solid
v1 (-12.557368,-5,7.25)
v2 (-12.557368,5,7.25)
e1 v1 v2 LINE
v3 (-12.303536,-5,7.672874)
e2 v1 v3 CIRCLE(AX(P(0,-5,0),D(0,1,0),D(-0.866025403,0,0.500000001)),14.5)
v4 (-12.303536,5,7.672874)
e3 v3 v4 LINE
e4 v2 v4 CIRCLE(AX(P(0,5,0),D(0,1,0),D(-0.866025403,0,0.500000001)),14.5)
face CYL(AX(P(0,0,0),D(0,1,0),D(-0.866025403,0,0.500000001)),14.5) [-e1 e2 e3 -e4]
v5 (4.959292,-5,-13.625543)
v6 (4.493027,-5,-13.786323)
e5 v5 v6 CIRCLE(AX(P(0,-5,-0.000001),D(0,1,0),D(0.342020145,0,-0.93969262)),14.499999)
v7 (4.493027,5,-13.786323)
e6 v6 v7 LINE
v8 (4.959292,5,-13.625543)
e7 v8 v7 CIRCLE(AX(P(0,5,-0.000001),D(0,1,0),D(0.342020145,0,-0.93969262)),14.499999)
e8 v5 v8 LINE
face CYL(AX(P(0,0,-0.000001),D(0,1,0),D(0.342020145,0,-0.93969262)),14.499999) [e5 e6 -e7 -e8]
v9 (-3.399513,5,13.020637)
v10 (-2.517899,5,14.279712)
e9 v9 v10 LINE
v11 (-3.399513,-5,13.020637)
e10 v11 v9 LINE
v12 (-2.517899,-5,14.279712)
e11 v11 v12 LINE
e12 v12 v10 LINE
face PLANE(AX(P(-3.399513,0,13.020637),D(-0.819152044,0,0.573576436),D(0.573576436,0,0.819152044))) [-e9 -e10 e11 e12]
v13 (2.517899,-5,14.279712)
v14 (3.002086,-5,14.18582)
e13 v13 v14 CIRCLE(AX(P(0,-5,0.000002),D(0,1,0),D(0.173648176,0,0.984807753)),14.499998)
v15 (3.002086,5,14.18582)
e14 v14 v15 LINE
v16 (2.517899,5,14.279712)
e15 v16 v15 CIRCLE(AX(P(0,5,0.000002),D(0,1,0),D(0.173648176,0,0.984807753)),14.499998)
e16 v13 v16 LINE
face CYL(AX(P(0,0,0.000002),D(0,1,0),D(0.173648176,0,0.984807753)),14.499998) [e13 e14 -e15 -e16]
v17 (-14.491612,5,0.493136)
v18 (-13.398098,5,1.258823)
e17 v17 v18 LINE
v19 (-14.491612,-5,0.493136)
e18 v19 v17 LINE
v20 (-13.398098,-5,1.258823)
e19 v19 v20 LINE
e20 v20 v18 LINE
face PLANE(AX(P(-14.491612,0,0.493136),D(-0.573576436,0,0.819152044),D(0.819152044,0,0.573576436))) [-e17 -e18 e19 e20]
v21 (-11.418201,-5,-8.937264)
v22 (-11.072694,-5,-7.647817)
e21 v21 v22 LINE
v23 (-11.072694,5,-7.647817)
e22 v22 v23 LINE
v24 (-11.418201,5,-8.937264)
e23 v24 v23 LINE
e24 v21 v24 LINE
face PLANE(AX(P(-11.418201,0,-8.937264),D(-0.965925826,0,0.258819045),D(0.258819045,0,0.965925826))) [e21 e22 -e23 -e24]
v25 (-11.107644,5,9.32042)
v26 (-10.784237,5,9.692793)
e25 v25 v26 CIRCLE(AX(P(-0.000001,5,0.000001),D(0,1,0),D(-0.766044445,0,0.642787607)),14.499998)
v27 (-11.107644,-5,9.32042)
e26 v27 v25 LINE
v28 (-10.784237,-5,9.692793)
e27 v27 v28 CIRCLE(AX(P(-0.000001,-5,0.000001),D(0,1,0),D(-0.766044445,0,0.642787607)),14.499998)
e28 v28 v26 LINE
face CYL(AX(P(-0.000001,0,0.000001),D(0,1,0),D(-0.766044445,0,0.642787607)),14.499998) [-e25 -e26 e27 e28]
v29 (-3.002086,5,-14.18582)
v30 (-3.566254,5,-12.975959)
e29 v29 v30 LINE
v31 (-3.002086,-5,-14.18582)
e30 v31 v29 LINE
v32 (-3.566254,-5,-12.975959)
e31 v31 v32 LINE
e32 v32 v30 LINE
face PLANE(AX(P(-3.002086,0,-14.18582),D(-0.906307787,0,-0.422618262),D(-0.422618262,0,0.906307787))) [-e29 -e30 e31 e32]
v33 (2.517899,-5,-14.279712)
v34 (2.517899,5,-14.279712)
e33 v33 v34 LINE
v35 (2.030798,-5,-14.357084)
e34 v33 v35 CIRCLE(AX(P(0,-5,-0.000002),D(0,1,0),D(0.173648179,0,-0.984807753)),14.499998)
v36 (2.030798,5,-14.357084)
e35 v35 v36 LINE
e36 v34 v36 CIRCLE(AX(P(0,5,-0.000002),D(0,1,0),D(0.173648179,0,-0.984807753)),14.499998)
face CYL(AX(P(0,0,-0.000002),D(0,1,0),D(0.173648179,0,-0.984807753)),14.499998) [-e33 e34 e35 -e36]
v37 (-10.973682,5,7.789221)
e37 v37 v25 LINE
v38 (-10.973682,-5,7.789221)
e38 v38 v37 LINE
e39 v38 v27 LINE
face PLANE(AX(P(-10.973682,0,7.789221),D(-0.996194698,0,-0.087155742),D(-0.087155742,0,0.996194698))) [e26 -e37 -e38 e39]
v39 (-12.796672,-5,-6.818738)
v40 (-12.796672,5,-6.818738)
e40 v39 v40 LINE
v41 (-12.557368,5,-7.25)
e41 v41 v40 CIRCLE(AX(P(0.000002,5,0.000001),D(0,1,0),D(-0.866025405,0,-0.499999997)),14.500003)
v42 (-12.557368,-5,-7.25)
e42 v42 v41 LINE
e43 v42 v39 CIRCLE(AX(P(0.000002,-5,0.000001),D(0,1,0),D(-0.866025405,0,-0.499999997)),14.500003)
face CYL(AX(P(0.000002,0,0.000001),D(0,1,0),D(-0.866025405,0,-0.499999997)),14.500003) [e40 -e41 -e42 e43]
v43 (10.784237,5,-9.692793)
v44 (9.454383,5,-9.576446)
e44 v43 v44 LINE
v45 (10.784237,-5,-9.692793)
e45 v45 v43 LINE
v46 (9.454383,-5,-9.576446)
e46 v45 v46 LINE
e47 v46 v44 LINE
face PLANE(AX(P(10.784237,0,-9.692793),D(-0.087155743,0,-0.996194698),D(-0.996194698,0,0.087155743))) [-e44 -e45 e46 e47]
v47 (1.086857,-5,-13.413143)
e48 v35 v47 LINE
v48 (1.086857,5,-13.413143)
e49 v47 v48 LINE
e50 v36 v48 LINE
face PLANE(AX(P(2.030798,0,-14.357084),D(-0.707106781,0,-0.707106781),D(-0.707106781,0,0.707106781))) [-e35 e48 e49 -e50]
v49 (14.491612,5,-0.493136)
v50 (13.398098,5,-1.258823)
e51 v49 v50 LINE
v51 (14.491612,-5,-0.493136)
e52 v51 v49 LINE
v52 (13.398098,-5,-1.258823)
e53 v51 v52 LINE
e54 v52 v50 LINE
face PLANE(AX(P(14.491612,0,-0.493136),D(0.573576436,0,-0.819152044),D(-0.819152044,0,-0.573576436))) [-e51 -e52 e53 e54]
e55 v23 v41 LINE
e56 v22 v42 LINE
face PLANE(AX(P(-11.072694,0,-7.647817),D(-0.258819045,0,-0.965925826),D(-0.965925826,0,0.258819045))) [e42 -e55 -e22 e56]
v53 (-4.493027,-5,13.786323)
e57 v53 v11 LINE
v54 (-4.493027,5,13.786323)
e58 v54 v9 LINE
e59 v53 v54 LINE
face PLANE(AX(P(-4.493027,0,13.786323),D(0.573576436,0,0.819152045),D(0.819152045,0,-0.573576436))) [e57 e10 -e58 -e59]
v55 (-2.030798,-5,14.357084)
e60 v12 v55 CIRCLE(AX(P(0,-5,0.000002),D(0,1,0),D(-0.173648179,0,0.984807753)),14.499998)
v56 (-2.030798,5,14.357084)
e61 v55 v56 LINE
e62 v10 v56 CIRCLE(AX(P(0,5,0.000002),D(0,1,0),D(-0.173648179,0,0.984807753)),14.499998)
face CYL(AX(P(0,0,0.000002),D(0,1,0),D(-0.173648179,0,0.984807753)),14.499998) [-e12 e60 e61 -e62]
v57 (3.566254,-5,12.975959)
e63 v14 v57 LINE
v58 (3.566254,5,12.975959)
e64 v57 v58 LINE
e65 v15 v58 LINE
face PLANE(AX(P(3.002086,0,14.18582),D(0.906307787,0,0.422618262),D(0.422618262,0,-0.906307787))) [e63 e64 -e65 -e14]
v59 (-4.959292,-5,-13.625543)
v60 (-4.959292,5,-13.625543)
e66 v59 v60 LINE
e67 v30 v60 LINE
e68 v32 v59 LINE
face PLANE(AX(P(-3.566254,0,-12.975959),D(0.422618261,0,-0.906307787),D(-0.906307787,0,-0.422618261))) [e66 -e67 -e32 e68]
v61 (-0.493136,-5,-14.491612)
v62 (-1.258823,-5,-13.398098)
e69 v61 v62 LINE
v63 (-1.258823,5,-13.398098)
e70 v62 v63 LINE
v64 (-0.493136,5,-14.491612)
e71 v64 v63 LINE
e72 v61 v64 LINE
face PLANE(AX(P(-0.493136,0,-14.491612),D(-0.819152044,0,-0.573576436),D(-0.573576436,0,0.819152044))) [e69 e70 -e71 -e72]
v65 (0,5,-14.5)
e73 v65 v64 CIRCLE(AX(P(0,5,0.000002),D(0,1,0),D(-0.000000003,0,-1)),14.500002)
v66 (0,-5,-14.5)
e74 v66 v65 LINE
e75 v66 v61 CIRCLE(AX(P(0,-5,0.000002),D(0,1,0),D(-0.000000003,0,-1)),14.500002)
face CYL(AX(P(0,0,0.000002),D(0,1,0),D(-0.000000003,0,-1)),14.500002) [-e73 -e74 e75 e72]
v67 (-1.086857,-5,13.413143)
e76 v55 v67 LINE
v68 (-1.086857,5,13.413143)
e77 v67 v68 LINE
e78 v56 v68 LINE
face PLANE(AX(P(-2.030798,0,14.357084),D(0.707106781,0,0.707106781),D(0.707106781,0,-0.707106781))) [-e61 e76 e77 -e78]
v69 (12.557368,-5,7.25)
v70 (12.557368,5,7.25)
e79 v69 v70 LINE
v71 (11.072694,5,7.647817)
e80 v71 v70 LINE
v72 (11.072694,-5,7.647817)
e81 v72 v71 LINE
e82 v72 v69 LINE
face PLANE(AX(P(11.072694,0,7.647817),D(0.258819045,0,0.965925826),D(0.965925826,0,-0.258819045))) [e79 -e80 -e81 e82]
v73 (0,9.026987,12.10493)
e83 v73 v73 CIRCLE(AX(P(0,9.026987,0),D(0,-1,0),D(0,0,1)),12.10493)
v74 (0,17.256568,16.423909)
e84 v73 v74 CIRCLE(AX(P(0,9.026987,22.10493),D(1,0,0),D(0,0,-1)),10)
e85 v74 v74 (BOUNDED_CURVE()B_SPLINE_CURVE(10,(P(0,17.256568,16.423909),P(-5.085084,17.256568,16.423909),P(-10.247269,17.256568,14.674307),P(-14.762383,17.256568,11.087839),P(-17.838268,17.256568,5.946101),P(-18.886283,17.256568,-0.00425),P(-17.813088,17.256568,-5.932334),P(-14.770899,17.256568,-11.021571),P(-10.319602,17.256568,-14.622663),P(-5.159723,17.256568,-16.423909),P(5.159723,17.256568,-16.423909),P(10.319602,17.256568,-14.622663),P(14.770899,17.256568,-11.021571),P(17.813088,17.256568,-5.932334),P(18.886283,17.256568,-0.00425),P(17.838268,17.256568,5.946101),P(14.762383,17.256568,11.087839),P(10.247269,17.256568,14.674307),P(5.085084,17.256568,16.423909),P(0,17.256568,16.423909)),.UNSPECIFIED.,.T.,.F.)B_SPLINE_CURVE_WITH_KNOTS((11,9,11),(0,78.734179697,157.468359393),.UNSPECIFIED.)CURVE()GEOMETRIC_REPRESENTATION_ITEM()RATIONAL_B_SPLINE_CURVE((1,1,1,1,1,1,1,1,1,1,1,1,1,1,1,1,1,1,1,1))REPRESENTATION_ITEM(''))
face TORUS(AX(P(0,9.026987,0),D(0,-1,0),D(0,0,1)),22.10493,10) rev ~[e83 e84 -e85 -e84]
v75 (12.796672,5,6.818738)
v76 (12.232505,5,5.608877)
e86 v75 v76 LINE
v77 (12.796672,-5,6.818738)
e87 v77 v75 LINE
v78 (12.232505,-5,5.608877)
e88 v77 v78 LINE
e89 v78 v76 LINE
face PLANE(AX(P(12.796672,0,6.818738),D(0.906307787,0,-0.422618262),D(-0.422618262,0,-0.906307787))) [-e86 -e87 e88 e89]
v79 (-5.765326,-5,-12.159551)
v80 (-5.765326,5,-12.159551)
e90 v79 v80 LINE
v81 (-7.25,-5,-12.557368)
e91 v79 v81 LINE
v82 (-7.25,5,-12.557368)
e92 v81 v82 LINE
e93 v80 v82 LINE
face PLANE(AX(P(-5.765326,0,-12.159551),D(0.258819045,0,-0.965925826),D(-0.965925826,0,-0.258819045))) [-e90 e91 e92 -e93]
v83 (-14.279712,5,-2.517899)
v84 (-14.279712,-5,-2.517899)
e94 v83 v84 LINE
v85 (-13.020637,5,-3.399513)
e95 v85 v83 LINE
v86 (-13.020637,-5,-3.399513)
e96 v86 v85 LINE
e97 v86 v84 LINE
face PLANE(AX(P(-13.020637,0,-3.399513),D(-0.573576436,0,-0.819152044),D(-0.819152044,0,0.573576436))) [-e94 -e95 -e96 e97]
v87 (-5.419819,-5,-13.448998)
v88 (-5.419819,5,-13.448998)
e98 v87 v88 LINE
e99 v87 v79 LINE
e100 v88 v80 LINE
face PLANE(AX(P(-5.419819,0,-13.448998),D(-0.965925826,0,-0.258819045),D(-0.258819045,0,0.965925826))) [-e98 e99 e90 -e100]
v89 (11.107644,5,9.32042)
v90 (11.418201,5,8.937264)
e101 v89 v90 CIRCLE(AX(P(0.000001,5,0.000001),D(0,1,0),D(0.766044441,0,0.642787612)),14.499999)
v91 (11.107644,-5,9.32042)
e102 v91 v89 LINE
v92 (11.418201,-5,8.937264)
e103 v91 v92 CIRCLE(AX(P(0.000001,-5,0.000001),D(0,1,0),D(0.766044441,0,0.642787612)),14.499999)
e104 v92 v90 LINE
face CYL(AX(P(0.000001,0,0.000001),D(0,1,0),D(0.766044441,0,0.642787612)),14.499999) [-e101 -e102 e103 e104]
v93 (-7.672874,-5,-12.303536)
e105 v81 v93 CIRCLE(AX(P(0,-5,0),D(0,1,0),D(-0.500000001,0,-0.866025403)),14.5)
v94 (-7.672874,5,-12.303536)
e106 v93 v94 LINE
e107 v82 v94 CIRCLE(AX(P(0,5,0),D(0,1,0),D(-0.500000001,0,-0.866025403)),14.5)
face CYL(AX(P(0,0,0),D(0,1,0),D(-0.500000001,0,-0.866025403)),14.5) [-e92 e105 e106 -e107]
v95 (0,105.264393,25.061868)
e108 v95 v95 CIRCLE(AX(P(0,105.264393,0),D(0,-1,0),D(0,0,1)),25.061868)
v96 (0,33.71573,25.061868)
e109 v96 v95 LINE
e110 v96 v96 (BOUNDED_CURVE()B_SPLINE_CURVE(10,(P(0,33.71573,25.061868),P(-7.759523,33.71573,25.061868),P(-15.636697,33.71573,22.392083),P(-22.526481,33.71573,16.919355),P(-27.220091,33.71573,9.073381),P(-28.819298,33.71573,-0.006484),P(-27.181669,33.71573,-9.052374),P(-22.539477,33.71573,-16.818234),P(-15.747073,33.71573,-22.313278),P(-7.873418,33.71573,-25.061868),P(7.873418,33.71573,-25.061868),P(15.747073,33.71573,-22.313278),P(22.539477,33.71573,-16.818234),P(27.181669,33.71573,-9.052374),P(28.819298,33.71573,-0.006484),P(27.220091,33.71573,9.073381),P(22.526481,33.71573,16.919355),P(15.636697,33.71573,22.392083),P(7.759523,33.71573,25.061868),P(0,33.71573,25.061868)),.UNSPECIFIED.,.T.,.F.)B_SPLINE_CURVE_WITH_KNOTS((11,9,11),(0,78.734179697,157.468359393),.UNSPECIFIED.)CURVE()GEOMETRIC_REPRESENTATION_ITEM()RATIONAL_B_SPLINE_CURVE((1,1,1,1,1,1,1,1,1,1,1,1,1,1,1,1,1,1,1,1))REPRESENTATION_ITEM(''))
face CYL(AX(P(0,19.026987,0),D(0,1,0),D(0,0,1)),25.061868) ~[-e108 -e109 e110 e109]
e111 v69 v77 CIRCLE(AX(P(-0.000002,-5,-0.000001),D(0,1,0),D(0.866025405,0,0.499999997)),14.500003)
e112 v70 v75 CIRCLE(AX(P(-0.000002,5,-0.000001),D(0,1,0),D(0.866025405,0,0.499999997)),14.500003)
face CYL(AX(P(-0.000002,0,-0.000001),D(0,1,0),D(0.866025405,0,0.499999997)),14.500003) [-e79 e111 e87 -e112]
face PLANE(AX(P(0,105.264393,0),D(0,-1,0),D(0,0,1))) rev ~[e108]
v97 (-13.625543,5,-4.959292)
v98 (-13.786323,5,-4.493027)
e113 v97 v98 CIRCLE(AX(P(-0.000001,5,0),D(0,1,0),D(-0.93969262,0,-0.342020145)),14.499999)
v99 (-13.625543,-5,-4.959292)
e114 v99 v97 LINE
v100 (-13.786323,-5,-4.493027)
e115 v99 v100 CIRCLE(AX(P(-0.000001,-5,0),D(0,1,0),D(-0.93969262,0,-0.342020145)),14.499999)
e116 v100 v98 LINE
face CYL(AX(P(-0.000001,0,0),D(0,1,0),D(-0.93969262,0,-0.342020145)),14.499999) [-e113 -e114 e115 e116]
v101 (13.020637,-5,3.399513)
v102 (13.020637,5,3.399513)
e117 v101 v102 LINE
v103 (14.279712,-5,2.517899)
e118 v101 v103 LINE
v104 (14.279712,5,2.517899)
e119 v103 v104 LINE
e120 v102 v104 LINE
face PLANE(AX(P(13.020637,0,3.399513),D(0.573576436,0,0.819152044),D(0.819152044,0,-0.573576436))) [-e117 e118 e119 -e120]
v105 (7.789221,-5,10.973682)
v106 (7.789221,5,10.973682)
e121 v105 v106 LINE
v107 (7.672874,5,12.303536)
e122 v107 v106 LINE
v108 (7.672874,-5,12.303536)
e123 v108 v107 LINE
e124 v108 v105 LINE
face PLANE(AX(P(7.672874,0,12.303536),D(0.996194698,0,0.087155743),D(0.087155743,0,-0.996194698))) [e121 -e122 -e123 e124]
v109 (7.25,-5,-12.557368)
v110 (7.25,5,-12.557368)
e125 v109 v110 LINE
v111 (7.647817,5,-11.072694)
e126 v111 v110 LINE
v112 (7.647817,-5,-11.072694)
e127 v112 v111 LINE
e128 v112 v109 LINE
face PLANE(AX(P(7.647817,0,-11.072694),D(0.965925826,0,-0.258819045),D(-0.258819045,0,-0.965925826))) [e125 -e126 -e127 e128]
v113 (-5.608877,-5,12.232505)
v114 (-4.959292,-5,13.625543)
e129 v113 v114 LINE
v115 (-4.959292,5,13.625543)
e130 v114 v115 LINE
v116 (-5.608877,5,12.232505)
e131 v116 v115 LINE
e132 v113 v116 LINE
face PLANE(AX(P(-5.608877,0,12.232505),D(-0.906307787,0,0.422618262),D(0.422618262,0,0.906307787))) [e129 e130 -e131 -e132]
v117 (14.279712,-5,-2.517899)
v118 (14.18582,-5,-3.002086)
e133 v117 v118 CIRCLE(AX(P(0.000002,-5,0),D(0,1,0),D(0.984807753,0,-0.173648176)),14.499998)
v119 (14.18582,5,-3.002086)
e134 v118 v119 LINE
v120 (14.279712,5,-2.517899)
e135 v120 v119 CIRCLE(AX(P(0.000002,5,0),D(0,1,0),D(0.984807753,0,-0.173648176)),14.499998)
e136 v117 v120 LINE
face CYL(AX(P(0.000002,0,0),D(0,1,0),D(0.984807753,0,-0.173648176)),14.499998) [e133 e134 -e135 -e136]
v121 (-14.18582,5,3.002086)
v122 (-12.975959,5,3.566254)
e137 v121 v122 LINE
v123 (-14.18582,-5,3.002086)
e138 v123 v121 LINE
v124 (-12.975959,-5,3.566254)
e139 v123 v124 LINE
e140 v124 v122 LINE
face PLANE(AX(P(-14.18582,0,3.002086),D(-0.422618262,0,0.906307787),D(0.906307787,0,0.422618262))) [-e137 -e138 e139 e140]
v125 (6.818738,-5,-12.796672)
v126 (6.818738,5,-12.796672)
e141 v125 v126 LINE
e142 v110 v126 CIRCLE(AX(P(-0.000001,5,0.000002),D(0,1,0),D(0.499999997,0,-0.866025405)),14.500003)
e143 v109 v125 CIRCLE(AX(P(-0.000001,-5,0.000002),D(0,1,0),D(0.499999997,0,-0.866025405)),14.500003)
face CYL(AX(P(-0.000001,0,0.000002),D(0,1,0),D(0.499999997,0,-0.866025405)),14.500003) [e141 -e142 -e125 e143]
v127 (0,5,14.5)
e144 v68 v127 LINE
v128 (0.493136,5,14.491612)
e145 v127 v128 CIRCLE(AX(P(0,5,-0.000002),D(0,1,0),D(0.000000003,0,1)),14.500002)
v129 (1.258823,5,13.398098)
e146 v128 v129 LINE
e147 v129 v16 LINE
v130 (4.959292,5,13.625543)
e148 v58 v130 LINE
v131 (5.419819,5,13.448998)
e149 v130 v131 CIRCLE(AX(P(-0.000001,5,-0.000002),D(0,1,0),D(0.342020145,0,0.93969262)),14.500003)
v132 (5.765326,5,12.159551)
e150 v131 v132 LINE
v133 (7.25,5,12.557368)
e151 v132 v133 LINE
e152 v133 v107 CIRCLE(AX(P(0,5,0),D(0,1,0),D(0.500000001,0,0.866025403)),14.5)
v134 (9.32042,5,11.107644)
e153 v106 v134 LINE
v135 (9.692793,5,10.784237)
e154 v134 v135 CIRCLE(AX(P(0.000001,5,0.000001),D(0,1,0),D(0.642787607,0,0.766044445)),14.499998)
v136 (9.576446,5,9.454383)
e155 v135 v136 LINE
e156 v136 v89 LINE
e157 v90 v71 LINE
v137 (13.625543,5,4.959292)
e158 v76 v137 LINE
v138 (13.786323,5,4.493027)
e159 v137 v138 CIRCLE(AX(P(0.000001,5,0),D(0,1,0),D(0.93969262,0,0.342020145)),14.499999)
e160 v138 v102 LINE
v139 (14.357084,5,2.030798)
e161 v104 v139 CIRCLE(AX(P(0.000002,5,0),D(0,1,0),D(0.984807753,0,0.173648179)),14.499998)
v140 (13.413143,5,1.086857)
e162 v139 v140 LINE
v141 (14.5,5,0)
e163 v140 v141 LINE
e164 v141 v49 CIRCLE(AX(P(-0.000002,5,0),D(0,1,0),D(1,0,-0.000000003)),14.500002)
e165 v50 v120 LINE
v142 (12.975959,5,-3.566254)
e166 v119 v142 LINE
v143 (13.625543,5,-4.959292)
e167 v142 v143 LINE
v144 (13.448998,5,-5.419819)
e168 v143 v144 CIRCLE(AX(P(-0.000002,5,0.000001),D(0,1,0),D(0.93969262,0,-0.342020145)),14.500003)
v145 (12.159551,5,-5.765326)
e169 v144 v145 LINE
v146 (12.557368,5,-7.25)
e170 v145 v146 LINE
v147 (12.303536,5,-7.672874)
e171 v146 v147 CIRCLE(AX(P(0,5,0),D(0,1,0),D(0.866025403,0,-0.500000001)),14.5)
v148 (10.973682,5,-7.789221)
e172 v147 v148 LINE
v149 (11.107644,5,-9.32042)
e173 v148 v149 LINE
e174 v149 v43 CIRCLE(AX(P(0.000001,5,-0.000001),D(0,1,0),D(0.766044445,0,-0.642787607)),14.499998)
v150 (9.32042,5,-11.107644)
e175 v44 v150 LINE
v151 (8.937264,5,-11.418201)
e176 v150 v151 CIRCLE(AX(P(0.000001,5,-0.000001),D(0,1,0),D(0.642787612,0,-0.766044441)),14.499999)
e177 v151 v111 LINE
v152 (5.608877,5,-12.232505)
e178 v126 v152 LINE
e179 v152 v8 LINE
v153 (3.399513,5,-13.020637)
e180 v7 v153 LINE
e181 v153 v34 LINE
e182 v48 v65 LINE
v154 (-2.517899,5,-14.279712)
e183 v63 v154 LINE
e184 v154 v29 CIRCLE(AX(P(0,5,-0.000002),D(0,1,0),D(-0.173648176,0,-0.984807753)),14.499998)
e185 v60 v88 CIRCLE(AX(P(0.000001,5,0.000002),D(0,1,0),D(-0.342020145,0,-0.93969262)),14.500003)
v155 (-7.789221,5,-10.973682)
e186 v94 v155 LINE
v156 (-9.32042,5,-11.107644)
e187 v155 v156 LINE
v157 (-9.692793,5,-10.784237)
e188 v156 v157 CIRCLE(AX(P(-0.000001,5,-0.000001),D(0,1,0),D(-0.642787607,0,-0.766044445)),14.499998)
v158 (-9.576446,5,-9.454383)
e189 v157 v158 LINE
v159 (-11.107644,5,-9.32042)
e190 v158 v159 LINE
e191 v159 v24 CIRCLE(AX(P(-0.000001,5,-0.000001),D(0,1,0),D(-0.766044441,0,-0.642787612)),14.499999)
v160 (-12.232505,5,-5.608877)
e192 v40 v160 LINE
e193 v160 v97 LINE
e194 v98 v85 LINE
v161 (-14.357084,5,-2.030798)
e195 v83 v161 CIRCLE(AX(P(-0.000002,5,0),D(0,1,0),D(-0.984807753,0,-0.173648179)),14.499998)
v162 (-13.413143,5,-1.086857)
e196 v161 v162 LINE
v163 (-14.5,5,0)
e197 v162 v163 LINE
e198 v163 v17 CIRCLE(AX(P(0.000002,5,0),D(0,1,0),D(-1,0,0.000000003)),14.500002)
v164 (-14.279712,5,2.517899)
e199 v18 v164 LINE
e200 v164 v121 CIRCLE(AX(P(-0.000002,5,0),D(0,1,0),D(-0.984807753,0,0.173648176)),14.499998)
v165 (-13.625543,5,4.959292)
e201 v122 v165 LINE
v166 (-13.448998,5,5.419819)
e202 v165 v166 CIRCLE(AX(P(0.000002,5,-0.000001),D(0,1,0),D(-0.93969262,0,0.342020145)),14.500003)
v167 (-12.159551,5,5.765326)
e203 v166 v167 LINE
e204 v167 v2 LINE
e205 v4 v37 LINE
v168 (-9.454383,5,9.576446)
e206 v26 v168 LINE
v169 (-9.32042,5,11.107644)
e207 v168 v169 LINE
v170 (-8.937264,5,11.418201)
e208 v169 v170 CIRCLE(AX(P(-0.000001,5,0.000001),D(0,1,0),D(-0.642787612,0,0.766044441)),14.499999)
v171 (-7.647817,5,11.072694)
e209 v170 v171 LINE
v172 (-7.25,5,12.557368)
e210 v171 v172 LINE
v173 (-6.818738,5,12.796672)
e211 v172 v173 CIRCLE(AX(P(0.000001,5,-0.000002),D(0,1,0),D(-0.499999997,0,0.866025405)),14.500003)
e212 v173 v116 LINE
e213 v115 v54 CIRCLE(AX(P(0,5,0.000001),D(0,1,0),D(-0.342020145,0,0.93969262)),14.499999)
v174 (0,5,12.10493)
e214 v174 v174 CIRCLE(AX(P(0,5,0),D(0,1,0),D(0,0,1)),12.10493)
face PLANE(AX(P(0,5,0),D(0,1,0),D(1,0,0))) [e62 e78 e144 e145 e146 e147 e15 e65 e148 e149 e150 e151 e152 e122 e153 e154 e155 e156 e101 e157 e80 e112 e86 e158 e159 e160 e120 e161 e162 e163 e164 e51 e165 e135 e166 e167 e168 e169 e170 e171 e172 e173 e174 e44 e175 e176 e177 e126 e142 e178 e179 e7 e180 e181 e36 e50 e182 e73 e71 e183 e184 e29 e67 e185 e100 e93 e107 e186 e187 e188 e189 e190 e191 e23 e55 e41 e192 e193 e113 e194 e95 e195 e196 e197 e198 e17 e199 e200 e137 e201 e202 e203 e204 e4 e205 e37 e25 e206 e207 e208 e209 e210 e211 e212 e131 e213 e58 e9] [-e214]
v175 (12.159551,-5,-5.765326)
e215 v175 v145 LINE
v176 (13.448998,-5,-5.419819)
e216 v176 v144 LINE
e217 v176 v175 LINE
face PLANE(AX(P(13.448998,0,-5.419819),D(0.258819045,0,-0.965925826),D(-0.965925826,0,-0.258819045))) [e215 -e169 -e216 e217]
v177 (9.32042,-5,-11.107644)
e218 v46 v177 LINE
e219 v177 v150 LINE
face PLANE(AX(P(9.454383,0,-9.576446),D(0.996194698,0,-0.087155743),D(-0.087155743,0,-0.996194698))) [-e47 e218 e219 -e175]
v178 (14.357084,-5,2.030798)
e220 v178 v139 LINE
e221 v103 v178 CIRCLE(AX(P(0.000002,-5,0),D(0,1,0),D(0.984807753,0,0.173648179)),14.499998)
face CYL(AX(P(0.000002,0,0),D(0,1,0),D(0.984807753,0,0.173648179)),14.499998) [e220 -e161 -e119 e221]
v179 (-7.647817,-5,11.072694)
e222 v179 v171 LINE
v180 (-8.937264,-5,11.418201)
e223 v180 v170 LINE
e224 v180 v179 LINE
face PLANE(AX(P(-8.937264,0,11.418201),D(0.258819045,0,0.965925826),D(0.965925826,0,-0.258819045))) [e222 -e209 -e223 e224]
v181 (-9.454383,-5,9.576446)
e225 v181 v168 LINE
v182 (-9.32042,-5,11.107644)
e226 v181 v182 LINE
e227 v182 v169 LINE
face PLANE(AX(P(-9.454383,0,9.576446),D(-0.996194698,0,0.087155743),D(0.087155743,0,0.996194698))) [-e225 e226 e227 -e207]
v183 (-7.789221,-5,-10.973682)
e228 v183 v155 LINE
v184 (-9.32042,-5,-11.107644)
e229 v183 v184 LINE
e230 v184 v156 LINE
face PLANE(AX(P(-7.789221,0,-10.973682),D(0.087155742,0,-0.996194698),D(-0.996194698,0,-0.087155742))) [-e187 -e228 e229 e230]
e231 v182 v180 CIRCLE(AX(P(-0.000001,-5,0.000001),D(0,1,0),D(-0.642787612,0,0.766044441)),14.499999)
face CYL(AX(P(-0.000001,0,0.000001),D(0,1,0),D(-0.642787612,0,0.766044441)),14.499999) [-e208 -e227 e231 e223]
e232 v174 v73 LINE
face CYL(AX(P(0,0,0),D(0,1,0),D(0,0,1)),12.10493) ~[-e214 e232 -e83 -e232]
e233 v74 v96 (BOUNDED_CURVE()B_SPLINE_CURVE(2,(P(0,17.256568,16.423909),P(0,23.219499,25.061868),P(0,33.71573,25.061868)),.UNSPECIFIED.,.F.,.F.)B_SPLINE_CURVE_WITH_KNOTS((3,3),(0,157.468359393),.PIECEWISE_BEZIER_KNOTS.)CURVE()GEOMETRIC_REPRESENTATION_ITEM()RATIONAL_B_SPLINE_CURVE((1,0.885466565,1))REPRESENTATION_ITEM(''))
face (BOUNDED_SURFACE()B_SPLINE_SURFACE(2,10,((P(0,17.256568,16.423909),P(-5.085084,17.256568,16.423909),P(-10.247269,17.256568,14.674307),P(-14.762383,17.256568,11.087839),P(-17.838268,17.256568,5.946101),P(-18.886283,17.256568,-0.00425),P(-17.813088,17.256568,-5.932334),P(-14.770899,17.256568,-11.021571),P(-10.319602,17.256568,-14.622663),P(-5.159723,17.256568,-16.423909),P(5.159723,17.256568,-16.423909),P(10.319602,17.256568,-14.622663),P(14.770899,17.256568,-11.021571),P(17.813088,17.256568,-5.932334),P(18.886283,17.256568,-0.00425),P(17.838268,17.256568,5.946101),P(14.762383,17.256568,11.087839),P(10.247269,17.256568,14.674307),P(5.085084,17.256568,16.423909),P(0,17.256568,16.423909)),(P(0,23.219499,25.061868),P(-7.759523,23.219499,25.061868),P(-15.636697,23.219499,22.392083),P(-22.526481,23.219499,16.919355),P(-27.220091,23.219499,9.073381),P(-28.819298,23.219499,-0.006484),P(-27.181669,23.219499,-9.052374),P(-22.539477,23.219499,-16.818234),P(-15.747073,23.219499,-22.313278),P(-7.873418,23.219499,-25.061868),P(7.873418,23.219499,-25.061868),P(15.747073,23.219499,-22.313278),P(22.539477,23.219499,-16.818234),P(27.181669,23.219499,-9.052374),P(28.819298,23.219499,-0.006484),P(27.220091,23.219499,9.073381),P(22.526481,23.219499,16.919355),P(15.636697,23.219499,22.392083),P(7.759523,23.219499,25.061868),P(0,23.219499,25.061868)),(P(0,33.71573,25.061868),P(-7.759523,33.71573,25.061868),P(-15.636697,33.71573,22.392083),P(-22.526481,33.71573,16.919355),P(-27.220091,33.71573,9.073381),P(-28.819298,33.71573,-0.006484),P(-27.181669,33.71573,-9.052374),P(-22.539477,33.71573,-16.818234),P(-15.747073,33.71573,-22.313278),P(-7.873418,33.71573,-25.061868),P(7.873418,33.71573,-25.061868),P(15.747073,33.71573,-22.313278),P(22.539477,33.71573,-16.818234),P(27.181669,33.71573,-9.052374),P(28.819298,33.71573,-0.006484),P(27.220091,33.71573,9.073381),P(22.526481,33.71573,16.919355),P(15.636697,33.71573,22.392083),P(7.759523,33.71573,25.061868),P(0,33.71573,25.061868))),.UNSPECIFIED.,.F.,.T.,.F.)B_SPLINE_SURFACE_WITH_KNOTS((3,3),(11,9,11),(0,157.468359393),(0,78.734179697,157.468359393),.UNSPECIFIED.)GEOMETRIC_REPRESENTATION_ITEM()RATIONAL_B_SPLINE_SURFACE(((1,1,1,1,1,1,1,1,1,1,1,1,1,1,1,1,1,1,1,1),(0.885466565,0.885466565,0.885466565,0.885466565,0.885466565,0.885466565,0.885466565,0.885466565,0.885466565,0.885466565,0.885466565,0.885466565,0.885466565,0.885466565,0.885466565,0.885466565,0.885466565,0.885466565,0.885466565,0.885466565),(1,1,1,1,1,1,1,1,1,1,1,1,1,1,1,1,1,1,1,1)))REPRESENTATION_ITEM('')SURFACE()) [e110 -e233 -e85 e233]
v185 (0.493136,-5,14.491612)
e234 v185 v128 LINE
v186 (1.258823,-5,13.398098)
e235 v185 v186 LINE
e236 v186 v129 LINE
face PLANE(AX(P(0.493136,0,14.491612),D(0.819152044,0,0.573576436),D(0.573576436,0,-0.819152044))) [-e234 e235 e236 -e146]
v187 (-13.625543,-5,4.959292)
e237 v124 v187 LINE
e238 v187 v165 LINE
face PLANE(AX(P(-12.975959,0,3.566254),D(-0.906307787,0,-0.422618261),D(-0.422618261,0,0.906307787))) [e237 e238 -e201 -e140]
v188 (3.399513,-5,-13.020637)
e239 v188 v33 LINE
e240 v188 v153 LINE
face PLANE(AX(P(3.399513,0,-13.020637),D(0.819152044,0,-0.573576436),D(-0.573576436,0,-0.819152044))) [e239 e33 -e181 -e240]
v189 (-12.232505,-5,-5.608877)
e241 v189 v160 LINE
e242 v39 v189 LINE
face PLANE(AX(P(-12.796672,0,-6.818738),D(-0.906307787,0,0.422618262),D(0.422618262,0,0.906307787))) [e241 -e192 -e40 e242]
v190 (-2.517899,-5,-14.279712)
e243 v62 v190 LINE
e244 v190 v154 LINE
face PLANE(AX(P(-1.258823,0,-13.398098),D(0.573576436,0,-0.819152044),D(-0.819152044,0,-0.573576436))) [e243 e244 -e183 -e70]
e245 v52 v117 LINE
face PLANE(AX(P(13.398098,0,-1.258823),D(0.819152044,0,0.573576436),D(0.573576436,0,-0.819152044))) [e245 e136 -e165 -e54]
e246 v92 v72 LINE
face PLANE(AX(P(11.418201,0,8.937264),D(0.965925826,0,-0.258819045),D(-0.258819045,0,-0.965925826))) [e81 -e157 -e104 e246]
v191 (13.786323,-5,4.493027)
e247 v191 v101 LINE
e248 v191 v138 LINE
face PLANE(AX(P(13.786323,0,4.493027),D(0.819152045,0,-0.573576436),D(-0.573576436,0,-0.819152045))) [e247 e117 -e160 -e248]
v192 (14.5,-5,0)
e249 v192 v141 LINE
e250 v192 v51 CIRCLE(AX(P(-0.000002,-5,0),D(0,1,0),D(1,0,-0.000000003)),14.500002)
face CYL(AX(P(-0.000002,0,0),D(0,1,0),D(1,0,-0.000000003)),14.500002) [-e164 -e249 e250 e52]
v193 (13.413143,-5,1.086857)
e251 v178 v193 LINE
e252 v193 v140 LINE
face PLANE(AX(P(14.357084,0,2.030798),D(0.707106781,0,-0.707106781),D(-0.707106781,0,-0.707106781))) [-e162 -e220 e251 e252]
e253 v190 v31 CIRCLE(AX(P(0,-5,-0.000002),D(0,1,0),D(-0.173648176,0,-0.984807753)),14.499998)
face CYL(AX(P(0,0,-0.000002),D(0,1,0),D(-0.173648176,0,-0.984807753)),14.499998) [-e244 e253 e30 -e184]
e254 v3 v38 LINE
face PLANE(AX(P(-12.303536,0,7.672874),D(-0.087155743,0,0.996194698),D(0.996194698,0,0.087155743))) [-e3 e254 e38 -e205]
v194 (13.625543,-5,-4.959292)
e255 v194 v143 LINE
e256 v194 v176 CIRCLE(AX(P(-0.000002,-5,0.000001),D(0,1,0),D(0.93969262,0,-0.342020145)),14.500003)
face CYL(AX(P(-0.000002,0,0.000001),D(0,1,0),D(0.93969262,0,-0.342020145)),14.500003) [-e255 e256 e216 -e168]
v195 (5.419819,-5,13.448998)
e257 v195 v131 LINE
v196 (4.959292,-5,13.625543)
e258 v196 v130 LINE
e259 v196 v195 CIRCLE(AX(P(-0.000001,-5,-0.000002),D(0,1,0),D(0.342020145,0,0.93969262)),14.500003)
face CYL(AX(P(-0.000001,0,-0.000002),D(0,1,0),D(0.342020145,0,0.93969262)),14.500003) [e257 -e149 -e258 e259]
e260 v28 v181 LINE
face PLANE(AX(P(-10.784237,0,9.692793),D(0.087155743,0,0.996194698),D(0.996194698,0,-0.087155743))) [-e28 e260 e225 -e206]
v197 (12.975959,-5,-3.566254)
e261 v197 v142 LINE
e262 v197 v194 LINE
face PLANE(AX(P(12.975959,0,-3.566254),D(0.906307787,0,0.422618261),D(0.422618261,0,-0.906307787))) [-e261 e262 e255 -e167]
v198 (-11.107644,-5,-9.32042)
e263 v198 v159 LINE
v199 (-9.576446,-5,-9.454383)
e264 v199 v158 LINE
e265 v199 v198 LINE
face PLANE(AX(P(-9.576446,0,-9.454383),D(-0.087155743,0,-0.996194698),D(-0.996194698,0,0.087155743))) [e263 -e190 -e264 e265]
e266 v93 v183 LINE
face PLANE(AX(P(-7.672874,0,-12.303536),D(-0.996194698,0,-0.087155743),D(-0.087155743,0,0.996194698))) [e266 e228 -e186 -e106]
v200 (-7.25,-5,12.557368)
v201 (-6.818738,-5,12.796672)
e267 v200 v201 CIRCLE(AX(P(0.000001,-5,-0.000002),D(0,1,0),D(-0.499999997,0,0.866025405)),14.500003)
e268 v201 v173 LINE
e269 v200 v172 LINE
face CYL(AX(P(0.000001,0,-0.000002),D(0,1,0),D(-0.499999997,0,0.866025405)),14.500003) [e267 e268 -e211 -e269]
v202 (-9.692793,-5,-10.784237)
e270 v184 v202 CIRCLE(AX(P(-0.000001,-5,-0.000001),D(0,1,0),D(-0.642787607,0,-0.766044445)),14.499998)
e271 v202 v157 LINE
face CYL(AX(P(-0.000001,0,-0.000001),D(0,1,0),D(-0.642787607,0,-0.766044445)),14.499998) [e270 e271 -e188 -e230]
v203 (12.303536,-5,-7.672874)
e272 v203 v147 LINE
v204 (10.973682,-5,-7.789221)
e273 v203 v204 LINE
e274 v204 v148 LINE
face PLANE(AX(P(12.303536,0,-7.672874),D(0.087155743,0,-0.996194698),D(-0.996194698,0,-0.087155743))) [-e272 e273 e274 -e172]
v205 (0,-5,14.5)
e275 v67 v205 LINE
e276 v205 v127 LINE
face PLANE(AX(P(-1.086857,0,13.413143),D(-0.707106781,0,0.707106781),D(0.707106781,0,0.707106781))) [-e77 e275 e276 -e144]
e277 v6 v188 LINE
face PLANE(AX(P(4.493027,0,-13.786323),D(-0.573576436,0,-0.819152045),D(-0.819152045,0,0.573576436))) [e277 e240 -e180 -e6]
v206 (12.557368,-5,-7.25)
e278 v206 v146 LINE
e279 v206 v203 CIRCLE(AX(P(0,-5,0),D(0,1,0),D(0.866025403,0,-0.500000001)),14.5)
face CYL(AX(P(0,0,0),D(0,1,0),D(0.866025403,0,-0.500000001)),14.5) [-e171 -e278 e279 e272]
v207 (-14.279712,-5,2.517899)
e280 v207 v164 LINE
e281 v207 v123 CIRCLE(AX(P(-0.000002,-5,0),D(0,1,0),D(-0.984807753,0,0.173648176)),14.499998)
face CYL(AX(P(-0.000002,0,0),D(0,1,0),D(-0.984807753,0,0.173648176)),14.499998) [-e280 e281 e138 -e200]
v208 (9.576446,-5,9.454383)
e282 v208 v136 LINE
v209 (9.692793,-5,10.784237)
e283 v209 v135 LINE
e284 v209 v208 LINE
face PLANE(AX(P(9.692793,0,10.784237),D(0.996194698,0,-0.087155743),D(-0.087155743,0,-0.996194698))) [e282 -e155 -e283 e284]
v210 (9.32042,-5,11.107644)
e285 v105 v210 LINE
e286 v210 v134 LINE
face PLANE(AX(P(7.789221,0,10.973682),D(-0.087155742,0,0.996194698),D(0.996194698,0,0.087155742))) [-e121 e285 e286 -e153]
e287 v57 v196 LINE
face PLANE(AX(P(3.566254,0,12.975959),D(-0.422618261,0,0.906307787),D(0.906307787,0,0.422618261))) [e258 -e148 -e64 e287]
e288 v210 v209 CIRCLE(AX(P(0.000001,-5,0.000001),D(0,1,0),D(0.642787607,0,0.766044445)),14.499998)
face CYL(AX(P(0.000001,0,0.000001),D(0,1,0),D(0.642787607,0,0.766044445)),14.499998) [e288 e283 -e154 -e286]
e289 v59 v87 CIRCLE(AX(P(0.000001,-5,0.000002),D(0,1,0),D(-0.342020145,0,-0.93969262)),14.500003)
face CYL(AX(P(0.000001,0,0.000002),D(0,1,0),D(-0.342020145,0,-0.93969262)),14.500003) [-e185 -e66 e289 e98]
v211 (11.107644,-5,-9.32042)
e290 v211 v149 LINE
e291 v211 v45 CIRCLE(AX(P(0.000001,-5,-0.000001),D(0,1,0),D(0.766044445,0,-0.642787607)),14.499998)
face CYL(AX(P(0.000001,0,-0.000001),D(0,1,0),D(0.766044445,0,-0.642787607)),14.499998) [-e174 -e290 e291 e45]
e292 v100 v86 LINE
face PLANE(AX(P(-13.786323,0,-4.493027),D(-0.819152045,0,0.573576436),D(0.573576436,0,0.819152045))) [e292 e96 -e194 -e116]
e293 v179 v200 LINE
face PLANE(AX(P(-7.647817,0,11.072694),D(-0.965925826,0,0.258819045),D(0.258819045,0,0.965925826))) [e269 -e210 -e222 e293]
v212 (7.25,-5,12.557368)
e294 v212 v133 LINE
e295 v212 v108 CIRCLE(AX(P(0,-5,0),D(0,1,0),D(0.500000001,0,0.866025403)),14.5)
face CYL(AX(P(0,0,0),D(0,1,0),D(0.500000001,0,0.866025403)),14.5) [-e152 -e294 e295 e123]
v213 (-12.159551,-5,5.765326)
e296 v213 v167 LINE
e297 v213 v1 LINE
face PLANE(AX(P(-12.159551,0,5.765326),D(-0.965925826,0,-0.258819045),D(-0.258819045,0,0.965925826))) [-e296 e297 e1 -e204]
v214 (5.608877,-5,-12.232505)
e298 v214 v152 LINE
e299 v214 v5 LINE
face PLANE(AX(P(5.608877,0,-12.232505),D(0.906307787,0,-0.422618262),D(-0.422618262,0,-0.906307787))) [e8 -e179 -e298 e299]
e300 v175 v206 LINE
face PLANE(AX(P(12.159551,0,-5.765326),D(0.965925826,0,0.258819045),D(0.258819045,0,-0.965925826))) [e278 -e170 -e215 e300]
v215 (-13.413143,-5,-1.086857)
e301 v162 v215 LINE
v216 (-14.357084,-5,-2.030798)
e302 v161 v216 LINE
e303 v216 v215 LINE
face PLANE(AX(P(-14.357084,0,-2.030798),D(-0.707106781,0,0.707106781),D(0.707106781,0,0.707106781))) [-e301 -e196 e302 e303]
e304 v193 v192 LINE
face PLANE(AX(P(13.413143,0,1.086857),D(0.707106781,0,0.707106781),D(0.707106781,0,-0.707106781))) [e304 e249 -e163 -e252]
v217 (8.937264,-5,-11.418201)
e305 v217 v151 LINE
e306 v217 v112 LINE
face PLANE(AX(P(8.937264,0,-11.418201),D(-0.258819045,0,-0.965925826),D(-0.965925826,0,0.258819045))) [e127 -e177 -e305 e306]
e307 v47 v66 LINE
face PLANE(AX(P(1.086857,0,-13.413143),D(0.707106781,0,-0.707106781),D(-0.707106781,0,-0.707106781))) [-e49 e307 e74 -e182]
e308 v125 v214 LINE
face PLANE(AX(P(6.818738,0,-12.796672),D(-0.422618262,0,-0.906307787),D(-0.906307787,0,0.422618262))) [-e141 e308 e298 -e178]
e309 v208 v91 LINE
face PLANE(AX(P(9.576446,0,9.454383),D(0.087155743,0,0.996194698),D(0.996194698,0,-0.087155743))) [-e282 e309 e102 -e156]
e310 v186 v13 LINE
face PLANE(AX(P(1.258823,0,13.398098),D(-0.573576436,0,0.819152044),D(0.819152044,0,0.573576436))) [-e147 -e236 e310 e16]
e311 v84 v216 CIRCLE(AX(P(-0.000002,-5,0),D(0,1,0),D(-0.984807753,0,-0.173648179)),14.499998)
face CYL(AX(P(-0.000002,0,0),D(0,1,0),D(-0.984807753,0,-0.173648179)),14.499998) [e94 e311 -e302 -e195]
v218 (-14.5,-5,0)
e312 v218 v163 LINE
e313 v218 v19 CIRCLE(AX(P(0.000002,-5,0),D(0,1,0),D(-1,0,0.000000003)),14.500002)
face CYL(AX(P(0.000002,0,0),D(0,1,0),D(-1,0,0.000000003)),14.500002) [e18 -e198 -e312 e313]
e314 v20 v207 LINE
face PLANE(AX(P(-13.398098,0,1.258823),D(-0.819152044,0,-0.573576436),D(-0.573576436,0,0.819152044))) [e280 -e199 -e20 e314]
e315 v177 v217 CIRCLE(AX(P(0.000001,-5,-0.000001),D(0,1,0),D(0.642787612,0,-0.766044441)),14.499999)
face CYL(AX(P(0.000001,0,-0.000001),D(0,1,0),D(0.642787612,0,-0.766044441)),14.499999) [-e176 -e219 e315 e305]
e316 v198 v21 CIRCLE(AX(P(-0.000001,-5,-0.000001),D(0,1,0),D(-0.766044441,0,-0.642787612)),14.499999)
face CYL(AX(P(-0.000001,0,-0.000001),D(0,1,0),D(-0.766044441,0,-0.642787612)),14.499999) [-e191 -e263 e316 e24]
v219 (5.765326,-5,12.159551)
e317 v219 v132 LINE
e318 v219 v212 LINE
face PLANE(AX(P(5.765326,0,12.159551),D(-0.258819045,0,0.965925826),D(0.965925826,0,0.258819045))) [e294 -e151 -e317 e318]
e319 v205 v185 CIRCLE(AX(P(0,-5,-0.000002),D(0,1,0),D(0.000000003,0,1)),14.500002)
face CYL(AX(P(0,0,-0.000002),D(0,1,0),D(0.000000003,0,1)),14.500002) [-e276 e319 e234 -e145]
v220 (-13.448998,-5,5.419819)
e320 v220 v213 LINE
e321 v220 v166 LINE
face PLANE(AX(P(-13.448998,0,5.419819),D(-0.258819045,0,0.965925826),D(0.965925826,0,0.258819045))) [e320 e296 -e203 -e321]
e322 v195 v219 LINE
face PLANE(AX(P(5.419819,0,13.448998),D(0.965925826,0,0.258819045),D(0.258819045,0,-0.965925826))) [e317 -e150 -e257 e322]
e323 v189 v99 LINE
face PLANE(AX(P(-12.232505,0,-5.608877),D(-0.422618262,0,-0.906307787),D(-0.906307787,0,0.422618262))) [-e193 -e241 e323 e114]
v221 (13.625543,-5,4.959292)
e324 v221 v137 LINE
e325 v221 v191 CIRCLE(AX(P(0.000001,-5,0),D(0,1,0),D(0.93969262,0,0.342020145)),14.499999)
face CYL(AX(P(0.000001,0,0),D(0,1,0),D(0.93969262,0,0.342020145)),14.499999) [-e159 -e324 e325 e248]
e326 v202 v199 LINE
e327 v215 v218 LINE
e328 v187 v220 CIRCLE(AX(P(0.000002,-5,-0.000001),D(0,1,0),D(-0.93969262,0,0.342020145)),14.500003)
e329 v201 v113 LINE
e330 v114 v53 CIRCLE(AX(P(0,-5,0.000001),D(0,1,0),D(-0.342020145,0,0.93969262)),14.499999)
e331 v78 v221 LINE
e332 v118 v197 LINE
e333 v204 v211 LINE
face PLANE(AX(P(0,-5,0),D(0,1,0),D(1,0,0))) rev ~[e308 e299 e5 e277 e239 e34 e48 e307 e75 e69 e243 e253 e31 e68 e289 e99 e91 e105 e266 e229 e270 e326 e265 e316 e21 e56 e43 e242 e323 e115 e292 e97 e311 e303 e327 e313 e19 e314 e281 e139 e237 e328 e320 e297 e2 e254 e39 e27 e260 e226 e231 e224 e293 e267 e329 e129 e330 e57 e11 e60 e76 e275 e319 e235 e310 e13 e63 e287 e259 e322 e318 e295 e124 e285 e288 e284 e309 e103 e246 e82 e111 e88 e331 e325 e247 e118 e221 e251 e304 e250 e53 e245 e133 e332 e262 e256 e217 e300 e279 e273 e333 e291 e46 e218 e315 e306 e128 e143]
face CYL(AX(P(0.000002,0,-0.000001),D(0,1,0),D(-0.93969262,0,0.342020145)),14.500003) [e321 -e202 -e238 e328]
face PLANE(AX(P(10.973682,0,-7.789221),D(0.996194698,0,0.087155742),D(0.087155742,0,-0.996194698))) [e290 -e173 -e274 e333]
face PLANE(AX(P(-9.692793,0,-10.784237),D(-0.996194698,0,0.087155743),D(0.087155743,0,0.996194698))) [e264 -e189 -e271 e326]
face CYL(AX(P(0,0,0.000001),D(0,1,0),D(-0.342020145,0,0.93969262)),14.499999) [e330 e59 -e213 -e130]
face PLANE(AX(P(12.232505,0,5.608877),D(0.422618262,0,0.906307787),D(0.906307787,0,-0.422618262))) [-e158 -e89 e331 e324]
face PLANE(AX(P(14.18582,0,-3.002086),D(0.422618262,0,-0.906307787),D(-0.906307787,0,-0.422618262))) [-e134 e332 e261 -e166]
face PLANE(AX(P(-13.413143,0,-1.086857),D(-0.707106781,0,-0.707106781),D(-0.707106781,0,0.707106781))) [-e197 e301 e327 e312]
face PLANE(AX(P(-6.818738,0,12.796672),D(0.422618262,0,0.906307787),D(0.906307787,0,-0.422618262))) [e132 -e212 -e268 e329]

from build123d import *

# Parameters (mm, degrees)
BOSS_EXTRUDE1_DEPTH = 5
FILLET1_R           = 20


with BuildPart() as part:
    # Sketch1 → Boss-Extrude1 (new, symmetric)
    with BuildSketch(Plane(origin=(0, 0, 0), x_dir=(1, 0, 0), z_dir=(0, 1, 0))):
        with BuildLine():
            Line((-13.413143077, 1.086856923), (-14.5, 0))
            ThreePointArc((-14.5, 0), (-14.497902835, -0.246603683), (-14.491611948, -0.493136032))
            Line((-14.491611948, -0.493136032), (-13.398098019, -1.258822728))
            Line((-13.398098019, -1.258822728), (-14.279712419, -2.517898576))
            ThreePointArc((-14.279712419, -2.517898576), (-14.234824835, -2.760391626), (-14.185819627, -3.002086193))
            Line((-14.185819627, -3.002086193), (-12.975958532, -3.566253687))
            Line((-12.975958532, -3.566253687), (-13.625543001, -4.959292078))
            ThreePointArc((-13.625543001, -4.959292078), (-13.539228884, -5.190306466), (-13.448998355, -5.419819485))
            Line((-13.448998355, -5.419819485), (-12.159551111, -5.765325833))
            Line((-12.159551111, -5.765325833), (-12.557368355, -7.25))
            ThreePointArc((-12.557368355, -7.25), (-12.432250316, -7.462516471), (-12.303536073, -7.672874305))
            Line((-12.303536073, -7.672874305), (-10.973681883, -7.789221471))
            Line((-10.973681883, -7.789221471), (-11.107644425, -9.32042034))
            ThreePointArc((-11.107644425, -9.32042034), (-10.947524112, -9.50798169), (-10.784237074, -9.692792721))
            Line((-10.784237074, -9.692792721), (-9.454382883, -9.576445555))
            Line((-9.454382883, -9.576445555), (-9.32042034, -11.107644425))
            ThreePointArc((-9.32042034, -11.107644425), (-9.130162928, -11.264551696), (-8.937264488, -11.418200536))
            Line((-8.937264488, -11.418200536), (-7.647817244, -11.072694188))
            Line((-7.647817244, -11.072694188), (-7.25, -12.557368355))
            ThreePointArc((-7.25, -12.557368355), (-7.035386364, -12.678853998), (-6.818737643, -12.796672105))
            Line((-6.818737643, -12.796672105), (-5.608876548, -12.232504611))
            Line((-5.608876548, -12.232504611), (-4.959292078, -13.625543001))
            ThreePointArc((-4.959292078, -13.625543001), (-4.726843145, -13.707915738), (-4.493026906, -13.786323267))
            Line((-4.493026906, -13.786323267), (-3.399512976, -13.020636571))
            Line((-3.399512976, -13.020636571), (-2.517898576, -14.279712419))
            ThreePointArc((-2.517898576, -14.279712419), (-2.274677189, -14.320469395), (-2.030797819, -14.357083973))
            Line((-2.030797819, -14.357083973), (-1.086856923, -13.413143077))
            Line((-1.086856923, -13.413143077), (0, -14.5))
            ThreePointArc((0, -14.5), (0.246603683, -14.497902835), (0.493136032, -14.491611948))
            Line((0.493136032, -14.491611948), (1.258822728, -13.398098019))
            Line((1.258822728, -13.398098019), (2.517898576, -14.279712419))
            ThreePointArc((2.517898576, -14.279712419), (2.760391626, -14.234824835), (3.002086193, -14.185819627))
            Line((3.002086193, -14.185819627), (3.566253687, -12.975958532))
            Line((3.566253687, -12.975958532), (4.959292078, -13.625543001))
            ThreePointArc((4.959292078, -13.625543001), (5.190306466, -13.539228884), (5.419819485, -13.448998355))
            Line((5.419819485, -13.448998355), (5.765325833, -12.159551111))
            Line((5.765325833, -12.159551111), (7.25, -12.557368355))
            ThreePointArc((7.25, -12.557368355), (7.462516471, -12.432250316), (7.672874305, -12.303536073))
            Line((7.672874305, -12.303536073), (7.789221471, -10.973681883))
            Line((7.789221471, -10.973681883), (9.32042034, -11.107644425))
            ThreePointArc((9.32042034, -11.107644425), (9.50798169, -10.947524112), (9.692792721, -10.784237074))
            Line((9.692792721, -10.784237074), (9.576445555, -9.454382883))
            Line((9.576445555, -9.454382883), (11.107644425, -9.32042034))
            ThreePointArc((11.107644425, -9.32042034), (11.264551696, -9.130162928), (11.418200536, -8.937264488))
            Line((11.418200536, -8.937264488), (11.072694188, -7.647817244))
            Line((11.072694188, -7.647817244), (12.557368355, -7.25))
            ThreePointArc((12.557368355, -7.25), (12.678853998, -7.035386364), (12.796672105, -6.818737643))
            Line((12.796672105, -6.818737643), (12.232504611, -5.608876548))
            Line((12.232504611, -5.608876548), (13.625543001, -4.959292078))
            ThreePointArc((13.625543001, -4.959292078), (13.707915738, -4.726843145), (13.786323267, -4.493026906))
            Line((13.786323267, -4.493026906), (13.020636571, -3.399512976))
            Line((13.020636571, -3.399512976), (14.279712419, -2.517898576))
            ThreePointArc((14.279712419, -2.517898576), (14.320469395, -2.274677189), (14.357083973, -2.030797819))
            Line((14.357083973, -2.030797819), (13.413143077, -1.086856923))
            Line((13.413143077, -1.086856923), (14.5, 0))
            ThreePointArc((14.5, 0), (14.497902835, 0.246603683), (14.491611948, 0.493136032))
            Line((14.491611948, 0.493136032), (13.398098019, 1.258822728))
            Line((13.398098019, 1.258822728), (14.279712419, 2.517898576))
            ThreePointArc((14.279712419, 2.517898576), (14.234824835, 2.760391626), (14.185819627, 3.002086193))
            Line((14.185819627, 3.002086193), (12.975958532, 3.566253687))
            Line((12.975958532, 3.566253687), (13.625543001, 4.959292078))
            ThreePointArc((13.625543001, 4.959292078), (13.539228884, 5.190306466), (13.448998355, 5.419819485))
            Line((13.448998355, 5.419819485), (12.159551111, 5.765325833))
            Line((12.159551111, 5.765325833), (12.557368355, 7.25))
            ThreePointArc((12.557368355, 7.25), (12.432250316, 7.462516471), (12.303536073, 7.672874305))
            Line((12.303536073, 7.672874305), (10.973681883, 7.789221471))
            Line((10.973681883, 7.789221471), (11.107644425, 9.32042034))
            ThreePointArc((11.107644425, 9.32042034), (10.947524112, 9.50798169), (10.784237074, 9.692792721))
            Line((10.784237074, 9.692792721), (9.454382883, 9.576445555))
            Line((9.454382883, 9.576445555), (9.32042034, 11.107644425))
            ThreePointArc((9.32042034, 11.107644425), (9.130162928, 11.264551696), (8.937264488, 11.418200536))
            Line((8.937264488, 11.418200536), (7.647817244, 11.072694188))
            Line((7.647817244, 11.072694188), (7.25, 12.557368355))
            ThreePointArc((7.25, 12.557368355), (7.035386364, 12.678853998), (6.818737643, 12.796672105))
            Line((6.818737643, 12.796672105), (5.608876548, 12.232504611))
            Line((5.608876548, 12.232504611), (4.959292078, 13.625543001))
            ThreePointArc((4.959292078, 13.625543001), (4.726843145, 13.707915738), (4.493026906, 13.786323267))
            Line((4.493026906, 13.786323267), (3.399512976, 13.020636571))
            Line((3.399512976, 13.020636571), (2.517898576, 14.279712419))
            ThreePointArc((2.517898576, 14.279712419), (2.274677189, 14.320469395), (2.030797819, 14.357083973))
            Line((2.030797819, 14.357083973), (1.086856923, 13.413143077))
            Line((1.086856923, 13.413143077), (0, 14.5))
            ThreePointArc((0, 14.5), (-0.246603683, 14.497902835), (-0.493136032, 14.491611948))
            Line((-0.493136032, 14.491611948), (-1.258822728, 13.398098019))
            Line((-1.258822728, 13.398098019), (-2.517898576, 14.279712419))
            ThreePointArc((-2.517898576, 14.279712419), (-2.760391626, 14.234824835), (-3.002086193, 14.185819627))
            Line((-3.002086193, 14.185819627), (-3.566253687, 12.975958532))
            Line((-3.566253687, 12.975958532), (-4.959292078, 13.625543001))
            ThreePointArc((-4.959292078, 13.625543001), (-5.190306466, 13.539228884), (-5.419819485, 13.448998355))
            Line((-5.419819485, 13.448998355), (-5.765325833, 12.159551111))
            Line((-5.765325833, 12.159551111), (-7.25, 12.557368355))
            ThreePointArc((-7.25, 12.557368355), (-7.462516471, 12.432250316), (-7.672874305, 12.303536073))
            Line((-7.672874305, 12.303536073), (-7.789221471, 10.973681883))
            Line((-7.789221471, 10.973681883), (-9.32042034, 11.107644425))
            ThreePointArc((-9.32042034, 11.107644425), (-9.50798169, 10.947524112), (-9.692792721, 10.784237074))
            Line((-9.692792721, 10.784237074), (-9.576445555, 9.454382883))
            Line((-9.576445555, 9.454382883), (-11.107644425, 9.32042034))
            ThreePointArc((-11.107644425, 9.32042034), (-11.264551696, 9.130162928), (-11.418200536, 8.937264488))
            Line((-11.418200536, 8.937264488), (-11.072694188, 7.647817244))
            Line((-11.072694188, 7.647817244), (-12.557368355, 7.25))
            ThreePointArc((-12.557368355, 7.25), (-12.678853998, 7.035386364), (-12.796672105, 6.818737643))
            Line((-12.796672105, 6.818737643), (-12.232504611, 5.608876548))
            Line((-12.232504611, 5.608876548), (-13.625543001, 4.959292078))
            ThreePointArc((-13.625543001, 4.959292078), (-13.707915738, 4.726843145), (-13.786323267, 4.493026906))
            Line((-13.786323267, 4.493026906), (-13.020636571, 3.399512976))
            Line((-13.020636571, 3.399512976), (-14.279712419, 2.517898576))
            ThreePointArc((-14.279712419, 2.517898576), (-14.320469395, 2.274677189), (-14.357083973, 2.030797819))
            Line((-14.357083973, 2.030797819), (-13.413143077, 1.086856923))
        make_face()
    extrude(amount=BOSS_EXTRUDE1_DEPTH, both=True)

    # Sketch2 → Revolve1 (revolve)
    with BuildSketch(Plane(origin=(0, 0, 0), x_dir=(0, 0, -1), z_dir=(1, 0, 0)), mode=Mode.PRIVATE) as revolve1_sk:
        with BuildLine():
            Line((22.10493006, 19.026987327), (25.061867778, 19.026987327))
            Line((25.061867778, 19.026987327), (25.061867778, 105.264393418))
            Line((25.061867778, 105.264393418), (0, 105.264393418))
            Line((0, 105.264393418), (0, 0))
            Line((0, 0), (12.10493006, 0))
            Line((12.10493006, 0), (12.10493006, 9.026987327))
            ThreePointArc((12.10493006, 9.026987327), (15.033862249, 16.098055139), (22.10493006, 19.026987327))
        make_face()
    revolve(revolve1_sk.sketch.rotate(Axis((0, 105.264393418, 0), (0, -1, 0)), 180), axis=Axis((0, 105.264393418, 0), (0, -1, 0)))

    # Fillet1
    fillet1_edges = [part.edges().sort_by_distance(p)[0] for p in [
        (0, 19.026987327, -25.061867778),
    ]]
    fillet(fillet1_edges, radius=FILLET1_R)


solid = part.part
